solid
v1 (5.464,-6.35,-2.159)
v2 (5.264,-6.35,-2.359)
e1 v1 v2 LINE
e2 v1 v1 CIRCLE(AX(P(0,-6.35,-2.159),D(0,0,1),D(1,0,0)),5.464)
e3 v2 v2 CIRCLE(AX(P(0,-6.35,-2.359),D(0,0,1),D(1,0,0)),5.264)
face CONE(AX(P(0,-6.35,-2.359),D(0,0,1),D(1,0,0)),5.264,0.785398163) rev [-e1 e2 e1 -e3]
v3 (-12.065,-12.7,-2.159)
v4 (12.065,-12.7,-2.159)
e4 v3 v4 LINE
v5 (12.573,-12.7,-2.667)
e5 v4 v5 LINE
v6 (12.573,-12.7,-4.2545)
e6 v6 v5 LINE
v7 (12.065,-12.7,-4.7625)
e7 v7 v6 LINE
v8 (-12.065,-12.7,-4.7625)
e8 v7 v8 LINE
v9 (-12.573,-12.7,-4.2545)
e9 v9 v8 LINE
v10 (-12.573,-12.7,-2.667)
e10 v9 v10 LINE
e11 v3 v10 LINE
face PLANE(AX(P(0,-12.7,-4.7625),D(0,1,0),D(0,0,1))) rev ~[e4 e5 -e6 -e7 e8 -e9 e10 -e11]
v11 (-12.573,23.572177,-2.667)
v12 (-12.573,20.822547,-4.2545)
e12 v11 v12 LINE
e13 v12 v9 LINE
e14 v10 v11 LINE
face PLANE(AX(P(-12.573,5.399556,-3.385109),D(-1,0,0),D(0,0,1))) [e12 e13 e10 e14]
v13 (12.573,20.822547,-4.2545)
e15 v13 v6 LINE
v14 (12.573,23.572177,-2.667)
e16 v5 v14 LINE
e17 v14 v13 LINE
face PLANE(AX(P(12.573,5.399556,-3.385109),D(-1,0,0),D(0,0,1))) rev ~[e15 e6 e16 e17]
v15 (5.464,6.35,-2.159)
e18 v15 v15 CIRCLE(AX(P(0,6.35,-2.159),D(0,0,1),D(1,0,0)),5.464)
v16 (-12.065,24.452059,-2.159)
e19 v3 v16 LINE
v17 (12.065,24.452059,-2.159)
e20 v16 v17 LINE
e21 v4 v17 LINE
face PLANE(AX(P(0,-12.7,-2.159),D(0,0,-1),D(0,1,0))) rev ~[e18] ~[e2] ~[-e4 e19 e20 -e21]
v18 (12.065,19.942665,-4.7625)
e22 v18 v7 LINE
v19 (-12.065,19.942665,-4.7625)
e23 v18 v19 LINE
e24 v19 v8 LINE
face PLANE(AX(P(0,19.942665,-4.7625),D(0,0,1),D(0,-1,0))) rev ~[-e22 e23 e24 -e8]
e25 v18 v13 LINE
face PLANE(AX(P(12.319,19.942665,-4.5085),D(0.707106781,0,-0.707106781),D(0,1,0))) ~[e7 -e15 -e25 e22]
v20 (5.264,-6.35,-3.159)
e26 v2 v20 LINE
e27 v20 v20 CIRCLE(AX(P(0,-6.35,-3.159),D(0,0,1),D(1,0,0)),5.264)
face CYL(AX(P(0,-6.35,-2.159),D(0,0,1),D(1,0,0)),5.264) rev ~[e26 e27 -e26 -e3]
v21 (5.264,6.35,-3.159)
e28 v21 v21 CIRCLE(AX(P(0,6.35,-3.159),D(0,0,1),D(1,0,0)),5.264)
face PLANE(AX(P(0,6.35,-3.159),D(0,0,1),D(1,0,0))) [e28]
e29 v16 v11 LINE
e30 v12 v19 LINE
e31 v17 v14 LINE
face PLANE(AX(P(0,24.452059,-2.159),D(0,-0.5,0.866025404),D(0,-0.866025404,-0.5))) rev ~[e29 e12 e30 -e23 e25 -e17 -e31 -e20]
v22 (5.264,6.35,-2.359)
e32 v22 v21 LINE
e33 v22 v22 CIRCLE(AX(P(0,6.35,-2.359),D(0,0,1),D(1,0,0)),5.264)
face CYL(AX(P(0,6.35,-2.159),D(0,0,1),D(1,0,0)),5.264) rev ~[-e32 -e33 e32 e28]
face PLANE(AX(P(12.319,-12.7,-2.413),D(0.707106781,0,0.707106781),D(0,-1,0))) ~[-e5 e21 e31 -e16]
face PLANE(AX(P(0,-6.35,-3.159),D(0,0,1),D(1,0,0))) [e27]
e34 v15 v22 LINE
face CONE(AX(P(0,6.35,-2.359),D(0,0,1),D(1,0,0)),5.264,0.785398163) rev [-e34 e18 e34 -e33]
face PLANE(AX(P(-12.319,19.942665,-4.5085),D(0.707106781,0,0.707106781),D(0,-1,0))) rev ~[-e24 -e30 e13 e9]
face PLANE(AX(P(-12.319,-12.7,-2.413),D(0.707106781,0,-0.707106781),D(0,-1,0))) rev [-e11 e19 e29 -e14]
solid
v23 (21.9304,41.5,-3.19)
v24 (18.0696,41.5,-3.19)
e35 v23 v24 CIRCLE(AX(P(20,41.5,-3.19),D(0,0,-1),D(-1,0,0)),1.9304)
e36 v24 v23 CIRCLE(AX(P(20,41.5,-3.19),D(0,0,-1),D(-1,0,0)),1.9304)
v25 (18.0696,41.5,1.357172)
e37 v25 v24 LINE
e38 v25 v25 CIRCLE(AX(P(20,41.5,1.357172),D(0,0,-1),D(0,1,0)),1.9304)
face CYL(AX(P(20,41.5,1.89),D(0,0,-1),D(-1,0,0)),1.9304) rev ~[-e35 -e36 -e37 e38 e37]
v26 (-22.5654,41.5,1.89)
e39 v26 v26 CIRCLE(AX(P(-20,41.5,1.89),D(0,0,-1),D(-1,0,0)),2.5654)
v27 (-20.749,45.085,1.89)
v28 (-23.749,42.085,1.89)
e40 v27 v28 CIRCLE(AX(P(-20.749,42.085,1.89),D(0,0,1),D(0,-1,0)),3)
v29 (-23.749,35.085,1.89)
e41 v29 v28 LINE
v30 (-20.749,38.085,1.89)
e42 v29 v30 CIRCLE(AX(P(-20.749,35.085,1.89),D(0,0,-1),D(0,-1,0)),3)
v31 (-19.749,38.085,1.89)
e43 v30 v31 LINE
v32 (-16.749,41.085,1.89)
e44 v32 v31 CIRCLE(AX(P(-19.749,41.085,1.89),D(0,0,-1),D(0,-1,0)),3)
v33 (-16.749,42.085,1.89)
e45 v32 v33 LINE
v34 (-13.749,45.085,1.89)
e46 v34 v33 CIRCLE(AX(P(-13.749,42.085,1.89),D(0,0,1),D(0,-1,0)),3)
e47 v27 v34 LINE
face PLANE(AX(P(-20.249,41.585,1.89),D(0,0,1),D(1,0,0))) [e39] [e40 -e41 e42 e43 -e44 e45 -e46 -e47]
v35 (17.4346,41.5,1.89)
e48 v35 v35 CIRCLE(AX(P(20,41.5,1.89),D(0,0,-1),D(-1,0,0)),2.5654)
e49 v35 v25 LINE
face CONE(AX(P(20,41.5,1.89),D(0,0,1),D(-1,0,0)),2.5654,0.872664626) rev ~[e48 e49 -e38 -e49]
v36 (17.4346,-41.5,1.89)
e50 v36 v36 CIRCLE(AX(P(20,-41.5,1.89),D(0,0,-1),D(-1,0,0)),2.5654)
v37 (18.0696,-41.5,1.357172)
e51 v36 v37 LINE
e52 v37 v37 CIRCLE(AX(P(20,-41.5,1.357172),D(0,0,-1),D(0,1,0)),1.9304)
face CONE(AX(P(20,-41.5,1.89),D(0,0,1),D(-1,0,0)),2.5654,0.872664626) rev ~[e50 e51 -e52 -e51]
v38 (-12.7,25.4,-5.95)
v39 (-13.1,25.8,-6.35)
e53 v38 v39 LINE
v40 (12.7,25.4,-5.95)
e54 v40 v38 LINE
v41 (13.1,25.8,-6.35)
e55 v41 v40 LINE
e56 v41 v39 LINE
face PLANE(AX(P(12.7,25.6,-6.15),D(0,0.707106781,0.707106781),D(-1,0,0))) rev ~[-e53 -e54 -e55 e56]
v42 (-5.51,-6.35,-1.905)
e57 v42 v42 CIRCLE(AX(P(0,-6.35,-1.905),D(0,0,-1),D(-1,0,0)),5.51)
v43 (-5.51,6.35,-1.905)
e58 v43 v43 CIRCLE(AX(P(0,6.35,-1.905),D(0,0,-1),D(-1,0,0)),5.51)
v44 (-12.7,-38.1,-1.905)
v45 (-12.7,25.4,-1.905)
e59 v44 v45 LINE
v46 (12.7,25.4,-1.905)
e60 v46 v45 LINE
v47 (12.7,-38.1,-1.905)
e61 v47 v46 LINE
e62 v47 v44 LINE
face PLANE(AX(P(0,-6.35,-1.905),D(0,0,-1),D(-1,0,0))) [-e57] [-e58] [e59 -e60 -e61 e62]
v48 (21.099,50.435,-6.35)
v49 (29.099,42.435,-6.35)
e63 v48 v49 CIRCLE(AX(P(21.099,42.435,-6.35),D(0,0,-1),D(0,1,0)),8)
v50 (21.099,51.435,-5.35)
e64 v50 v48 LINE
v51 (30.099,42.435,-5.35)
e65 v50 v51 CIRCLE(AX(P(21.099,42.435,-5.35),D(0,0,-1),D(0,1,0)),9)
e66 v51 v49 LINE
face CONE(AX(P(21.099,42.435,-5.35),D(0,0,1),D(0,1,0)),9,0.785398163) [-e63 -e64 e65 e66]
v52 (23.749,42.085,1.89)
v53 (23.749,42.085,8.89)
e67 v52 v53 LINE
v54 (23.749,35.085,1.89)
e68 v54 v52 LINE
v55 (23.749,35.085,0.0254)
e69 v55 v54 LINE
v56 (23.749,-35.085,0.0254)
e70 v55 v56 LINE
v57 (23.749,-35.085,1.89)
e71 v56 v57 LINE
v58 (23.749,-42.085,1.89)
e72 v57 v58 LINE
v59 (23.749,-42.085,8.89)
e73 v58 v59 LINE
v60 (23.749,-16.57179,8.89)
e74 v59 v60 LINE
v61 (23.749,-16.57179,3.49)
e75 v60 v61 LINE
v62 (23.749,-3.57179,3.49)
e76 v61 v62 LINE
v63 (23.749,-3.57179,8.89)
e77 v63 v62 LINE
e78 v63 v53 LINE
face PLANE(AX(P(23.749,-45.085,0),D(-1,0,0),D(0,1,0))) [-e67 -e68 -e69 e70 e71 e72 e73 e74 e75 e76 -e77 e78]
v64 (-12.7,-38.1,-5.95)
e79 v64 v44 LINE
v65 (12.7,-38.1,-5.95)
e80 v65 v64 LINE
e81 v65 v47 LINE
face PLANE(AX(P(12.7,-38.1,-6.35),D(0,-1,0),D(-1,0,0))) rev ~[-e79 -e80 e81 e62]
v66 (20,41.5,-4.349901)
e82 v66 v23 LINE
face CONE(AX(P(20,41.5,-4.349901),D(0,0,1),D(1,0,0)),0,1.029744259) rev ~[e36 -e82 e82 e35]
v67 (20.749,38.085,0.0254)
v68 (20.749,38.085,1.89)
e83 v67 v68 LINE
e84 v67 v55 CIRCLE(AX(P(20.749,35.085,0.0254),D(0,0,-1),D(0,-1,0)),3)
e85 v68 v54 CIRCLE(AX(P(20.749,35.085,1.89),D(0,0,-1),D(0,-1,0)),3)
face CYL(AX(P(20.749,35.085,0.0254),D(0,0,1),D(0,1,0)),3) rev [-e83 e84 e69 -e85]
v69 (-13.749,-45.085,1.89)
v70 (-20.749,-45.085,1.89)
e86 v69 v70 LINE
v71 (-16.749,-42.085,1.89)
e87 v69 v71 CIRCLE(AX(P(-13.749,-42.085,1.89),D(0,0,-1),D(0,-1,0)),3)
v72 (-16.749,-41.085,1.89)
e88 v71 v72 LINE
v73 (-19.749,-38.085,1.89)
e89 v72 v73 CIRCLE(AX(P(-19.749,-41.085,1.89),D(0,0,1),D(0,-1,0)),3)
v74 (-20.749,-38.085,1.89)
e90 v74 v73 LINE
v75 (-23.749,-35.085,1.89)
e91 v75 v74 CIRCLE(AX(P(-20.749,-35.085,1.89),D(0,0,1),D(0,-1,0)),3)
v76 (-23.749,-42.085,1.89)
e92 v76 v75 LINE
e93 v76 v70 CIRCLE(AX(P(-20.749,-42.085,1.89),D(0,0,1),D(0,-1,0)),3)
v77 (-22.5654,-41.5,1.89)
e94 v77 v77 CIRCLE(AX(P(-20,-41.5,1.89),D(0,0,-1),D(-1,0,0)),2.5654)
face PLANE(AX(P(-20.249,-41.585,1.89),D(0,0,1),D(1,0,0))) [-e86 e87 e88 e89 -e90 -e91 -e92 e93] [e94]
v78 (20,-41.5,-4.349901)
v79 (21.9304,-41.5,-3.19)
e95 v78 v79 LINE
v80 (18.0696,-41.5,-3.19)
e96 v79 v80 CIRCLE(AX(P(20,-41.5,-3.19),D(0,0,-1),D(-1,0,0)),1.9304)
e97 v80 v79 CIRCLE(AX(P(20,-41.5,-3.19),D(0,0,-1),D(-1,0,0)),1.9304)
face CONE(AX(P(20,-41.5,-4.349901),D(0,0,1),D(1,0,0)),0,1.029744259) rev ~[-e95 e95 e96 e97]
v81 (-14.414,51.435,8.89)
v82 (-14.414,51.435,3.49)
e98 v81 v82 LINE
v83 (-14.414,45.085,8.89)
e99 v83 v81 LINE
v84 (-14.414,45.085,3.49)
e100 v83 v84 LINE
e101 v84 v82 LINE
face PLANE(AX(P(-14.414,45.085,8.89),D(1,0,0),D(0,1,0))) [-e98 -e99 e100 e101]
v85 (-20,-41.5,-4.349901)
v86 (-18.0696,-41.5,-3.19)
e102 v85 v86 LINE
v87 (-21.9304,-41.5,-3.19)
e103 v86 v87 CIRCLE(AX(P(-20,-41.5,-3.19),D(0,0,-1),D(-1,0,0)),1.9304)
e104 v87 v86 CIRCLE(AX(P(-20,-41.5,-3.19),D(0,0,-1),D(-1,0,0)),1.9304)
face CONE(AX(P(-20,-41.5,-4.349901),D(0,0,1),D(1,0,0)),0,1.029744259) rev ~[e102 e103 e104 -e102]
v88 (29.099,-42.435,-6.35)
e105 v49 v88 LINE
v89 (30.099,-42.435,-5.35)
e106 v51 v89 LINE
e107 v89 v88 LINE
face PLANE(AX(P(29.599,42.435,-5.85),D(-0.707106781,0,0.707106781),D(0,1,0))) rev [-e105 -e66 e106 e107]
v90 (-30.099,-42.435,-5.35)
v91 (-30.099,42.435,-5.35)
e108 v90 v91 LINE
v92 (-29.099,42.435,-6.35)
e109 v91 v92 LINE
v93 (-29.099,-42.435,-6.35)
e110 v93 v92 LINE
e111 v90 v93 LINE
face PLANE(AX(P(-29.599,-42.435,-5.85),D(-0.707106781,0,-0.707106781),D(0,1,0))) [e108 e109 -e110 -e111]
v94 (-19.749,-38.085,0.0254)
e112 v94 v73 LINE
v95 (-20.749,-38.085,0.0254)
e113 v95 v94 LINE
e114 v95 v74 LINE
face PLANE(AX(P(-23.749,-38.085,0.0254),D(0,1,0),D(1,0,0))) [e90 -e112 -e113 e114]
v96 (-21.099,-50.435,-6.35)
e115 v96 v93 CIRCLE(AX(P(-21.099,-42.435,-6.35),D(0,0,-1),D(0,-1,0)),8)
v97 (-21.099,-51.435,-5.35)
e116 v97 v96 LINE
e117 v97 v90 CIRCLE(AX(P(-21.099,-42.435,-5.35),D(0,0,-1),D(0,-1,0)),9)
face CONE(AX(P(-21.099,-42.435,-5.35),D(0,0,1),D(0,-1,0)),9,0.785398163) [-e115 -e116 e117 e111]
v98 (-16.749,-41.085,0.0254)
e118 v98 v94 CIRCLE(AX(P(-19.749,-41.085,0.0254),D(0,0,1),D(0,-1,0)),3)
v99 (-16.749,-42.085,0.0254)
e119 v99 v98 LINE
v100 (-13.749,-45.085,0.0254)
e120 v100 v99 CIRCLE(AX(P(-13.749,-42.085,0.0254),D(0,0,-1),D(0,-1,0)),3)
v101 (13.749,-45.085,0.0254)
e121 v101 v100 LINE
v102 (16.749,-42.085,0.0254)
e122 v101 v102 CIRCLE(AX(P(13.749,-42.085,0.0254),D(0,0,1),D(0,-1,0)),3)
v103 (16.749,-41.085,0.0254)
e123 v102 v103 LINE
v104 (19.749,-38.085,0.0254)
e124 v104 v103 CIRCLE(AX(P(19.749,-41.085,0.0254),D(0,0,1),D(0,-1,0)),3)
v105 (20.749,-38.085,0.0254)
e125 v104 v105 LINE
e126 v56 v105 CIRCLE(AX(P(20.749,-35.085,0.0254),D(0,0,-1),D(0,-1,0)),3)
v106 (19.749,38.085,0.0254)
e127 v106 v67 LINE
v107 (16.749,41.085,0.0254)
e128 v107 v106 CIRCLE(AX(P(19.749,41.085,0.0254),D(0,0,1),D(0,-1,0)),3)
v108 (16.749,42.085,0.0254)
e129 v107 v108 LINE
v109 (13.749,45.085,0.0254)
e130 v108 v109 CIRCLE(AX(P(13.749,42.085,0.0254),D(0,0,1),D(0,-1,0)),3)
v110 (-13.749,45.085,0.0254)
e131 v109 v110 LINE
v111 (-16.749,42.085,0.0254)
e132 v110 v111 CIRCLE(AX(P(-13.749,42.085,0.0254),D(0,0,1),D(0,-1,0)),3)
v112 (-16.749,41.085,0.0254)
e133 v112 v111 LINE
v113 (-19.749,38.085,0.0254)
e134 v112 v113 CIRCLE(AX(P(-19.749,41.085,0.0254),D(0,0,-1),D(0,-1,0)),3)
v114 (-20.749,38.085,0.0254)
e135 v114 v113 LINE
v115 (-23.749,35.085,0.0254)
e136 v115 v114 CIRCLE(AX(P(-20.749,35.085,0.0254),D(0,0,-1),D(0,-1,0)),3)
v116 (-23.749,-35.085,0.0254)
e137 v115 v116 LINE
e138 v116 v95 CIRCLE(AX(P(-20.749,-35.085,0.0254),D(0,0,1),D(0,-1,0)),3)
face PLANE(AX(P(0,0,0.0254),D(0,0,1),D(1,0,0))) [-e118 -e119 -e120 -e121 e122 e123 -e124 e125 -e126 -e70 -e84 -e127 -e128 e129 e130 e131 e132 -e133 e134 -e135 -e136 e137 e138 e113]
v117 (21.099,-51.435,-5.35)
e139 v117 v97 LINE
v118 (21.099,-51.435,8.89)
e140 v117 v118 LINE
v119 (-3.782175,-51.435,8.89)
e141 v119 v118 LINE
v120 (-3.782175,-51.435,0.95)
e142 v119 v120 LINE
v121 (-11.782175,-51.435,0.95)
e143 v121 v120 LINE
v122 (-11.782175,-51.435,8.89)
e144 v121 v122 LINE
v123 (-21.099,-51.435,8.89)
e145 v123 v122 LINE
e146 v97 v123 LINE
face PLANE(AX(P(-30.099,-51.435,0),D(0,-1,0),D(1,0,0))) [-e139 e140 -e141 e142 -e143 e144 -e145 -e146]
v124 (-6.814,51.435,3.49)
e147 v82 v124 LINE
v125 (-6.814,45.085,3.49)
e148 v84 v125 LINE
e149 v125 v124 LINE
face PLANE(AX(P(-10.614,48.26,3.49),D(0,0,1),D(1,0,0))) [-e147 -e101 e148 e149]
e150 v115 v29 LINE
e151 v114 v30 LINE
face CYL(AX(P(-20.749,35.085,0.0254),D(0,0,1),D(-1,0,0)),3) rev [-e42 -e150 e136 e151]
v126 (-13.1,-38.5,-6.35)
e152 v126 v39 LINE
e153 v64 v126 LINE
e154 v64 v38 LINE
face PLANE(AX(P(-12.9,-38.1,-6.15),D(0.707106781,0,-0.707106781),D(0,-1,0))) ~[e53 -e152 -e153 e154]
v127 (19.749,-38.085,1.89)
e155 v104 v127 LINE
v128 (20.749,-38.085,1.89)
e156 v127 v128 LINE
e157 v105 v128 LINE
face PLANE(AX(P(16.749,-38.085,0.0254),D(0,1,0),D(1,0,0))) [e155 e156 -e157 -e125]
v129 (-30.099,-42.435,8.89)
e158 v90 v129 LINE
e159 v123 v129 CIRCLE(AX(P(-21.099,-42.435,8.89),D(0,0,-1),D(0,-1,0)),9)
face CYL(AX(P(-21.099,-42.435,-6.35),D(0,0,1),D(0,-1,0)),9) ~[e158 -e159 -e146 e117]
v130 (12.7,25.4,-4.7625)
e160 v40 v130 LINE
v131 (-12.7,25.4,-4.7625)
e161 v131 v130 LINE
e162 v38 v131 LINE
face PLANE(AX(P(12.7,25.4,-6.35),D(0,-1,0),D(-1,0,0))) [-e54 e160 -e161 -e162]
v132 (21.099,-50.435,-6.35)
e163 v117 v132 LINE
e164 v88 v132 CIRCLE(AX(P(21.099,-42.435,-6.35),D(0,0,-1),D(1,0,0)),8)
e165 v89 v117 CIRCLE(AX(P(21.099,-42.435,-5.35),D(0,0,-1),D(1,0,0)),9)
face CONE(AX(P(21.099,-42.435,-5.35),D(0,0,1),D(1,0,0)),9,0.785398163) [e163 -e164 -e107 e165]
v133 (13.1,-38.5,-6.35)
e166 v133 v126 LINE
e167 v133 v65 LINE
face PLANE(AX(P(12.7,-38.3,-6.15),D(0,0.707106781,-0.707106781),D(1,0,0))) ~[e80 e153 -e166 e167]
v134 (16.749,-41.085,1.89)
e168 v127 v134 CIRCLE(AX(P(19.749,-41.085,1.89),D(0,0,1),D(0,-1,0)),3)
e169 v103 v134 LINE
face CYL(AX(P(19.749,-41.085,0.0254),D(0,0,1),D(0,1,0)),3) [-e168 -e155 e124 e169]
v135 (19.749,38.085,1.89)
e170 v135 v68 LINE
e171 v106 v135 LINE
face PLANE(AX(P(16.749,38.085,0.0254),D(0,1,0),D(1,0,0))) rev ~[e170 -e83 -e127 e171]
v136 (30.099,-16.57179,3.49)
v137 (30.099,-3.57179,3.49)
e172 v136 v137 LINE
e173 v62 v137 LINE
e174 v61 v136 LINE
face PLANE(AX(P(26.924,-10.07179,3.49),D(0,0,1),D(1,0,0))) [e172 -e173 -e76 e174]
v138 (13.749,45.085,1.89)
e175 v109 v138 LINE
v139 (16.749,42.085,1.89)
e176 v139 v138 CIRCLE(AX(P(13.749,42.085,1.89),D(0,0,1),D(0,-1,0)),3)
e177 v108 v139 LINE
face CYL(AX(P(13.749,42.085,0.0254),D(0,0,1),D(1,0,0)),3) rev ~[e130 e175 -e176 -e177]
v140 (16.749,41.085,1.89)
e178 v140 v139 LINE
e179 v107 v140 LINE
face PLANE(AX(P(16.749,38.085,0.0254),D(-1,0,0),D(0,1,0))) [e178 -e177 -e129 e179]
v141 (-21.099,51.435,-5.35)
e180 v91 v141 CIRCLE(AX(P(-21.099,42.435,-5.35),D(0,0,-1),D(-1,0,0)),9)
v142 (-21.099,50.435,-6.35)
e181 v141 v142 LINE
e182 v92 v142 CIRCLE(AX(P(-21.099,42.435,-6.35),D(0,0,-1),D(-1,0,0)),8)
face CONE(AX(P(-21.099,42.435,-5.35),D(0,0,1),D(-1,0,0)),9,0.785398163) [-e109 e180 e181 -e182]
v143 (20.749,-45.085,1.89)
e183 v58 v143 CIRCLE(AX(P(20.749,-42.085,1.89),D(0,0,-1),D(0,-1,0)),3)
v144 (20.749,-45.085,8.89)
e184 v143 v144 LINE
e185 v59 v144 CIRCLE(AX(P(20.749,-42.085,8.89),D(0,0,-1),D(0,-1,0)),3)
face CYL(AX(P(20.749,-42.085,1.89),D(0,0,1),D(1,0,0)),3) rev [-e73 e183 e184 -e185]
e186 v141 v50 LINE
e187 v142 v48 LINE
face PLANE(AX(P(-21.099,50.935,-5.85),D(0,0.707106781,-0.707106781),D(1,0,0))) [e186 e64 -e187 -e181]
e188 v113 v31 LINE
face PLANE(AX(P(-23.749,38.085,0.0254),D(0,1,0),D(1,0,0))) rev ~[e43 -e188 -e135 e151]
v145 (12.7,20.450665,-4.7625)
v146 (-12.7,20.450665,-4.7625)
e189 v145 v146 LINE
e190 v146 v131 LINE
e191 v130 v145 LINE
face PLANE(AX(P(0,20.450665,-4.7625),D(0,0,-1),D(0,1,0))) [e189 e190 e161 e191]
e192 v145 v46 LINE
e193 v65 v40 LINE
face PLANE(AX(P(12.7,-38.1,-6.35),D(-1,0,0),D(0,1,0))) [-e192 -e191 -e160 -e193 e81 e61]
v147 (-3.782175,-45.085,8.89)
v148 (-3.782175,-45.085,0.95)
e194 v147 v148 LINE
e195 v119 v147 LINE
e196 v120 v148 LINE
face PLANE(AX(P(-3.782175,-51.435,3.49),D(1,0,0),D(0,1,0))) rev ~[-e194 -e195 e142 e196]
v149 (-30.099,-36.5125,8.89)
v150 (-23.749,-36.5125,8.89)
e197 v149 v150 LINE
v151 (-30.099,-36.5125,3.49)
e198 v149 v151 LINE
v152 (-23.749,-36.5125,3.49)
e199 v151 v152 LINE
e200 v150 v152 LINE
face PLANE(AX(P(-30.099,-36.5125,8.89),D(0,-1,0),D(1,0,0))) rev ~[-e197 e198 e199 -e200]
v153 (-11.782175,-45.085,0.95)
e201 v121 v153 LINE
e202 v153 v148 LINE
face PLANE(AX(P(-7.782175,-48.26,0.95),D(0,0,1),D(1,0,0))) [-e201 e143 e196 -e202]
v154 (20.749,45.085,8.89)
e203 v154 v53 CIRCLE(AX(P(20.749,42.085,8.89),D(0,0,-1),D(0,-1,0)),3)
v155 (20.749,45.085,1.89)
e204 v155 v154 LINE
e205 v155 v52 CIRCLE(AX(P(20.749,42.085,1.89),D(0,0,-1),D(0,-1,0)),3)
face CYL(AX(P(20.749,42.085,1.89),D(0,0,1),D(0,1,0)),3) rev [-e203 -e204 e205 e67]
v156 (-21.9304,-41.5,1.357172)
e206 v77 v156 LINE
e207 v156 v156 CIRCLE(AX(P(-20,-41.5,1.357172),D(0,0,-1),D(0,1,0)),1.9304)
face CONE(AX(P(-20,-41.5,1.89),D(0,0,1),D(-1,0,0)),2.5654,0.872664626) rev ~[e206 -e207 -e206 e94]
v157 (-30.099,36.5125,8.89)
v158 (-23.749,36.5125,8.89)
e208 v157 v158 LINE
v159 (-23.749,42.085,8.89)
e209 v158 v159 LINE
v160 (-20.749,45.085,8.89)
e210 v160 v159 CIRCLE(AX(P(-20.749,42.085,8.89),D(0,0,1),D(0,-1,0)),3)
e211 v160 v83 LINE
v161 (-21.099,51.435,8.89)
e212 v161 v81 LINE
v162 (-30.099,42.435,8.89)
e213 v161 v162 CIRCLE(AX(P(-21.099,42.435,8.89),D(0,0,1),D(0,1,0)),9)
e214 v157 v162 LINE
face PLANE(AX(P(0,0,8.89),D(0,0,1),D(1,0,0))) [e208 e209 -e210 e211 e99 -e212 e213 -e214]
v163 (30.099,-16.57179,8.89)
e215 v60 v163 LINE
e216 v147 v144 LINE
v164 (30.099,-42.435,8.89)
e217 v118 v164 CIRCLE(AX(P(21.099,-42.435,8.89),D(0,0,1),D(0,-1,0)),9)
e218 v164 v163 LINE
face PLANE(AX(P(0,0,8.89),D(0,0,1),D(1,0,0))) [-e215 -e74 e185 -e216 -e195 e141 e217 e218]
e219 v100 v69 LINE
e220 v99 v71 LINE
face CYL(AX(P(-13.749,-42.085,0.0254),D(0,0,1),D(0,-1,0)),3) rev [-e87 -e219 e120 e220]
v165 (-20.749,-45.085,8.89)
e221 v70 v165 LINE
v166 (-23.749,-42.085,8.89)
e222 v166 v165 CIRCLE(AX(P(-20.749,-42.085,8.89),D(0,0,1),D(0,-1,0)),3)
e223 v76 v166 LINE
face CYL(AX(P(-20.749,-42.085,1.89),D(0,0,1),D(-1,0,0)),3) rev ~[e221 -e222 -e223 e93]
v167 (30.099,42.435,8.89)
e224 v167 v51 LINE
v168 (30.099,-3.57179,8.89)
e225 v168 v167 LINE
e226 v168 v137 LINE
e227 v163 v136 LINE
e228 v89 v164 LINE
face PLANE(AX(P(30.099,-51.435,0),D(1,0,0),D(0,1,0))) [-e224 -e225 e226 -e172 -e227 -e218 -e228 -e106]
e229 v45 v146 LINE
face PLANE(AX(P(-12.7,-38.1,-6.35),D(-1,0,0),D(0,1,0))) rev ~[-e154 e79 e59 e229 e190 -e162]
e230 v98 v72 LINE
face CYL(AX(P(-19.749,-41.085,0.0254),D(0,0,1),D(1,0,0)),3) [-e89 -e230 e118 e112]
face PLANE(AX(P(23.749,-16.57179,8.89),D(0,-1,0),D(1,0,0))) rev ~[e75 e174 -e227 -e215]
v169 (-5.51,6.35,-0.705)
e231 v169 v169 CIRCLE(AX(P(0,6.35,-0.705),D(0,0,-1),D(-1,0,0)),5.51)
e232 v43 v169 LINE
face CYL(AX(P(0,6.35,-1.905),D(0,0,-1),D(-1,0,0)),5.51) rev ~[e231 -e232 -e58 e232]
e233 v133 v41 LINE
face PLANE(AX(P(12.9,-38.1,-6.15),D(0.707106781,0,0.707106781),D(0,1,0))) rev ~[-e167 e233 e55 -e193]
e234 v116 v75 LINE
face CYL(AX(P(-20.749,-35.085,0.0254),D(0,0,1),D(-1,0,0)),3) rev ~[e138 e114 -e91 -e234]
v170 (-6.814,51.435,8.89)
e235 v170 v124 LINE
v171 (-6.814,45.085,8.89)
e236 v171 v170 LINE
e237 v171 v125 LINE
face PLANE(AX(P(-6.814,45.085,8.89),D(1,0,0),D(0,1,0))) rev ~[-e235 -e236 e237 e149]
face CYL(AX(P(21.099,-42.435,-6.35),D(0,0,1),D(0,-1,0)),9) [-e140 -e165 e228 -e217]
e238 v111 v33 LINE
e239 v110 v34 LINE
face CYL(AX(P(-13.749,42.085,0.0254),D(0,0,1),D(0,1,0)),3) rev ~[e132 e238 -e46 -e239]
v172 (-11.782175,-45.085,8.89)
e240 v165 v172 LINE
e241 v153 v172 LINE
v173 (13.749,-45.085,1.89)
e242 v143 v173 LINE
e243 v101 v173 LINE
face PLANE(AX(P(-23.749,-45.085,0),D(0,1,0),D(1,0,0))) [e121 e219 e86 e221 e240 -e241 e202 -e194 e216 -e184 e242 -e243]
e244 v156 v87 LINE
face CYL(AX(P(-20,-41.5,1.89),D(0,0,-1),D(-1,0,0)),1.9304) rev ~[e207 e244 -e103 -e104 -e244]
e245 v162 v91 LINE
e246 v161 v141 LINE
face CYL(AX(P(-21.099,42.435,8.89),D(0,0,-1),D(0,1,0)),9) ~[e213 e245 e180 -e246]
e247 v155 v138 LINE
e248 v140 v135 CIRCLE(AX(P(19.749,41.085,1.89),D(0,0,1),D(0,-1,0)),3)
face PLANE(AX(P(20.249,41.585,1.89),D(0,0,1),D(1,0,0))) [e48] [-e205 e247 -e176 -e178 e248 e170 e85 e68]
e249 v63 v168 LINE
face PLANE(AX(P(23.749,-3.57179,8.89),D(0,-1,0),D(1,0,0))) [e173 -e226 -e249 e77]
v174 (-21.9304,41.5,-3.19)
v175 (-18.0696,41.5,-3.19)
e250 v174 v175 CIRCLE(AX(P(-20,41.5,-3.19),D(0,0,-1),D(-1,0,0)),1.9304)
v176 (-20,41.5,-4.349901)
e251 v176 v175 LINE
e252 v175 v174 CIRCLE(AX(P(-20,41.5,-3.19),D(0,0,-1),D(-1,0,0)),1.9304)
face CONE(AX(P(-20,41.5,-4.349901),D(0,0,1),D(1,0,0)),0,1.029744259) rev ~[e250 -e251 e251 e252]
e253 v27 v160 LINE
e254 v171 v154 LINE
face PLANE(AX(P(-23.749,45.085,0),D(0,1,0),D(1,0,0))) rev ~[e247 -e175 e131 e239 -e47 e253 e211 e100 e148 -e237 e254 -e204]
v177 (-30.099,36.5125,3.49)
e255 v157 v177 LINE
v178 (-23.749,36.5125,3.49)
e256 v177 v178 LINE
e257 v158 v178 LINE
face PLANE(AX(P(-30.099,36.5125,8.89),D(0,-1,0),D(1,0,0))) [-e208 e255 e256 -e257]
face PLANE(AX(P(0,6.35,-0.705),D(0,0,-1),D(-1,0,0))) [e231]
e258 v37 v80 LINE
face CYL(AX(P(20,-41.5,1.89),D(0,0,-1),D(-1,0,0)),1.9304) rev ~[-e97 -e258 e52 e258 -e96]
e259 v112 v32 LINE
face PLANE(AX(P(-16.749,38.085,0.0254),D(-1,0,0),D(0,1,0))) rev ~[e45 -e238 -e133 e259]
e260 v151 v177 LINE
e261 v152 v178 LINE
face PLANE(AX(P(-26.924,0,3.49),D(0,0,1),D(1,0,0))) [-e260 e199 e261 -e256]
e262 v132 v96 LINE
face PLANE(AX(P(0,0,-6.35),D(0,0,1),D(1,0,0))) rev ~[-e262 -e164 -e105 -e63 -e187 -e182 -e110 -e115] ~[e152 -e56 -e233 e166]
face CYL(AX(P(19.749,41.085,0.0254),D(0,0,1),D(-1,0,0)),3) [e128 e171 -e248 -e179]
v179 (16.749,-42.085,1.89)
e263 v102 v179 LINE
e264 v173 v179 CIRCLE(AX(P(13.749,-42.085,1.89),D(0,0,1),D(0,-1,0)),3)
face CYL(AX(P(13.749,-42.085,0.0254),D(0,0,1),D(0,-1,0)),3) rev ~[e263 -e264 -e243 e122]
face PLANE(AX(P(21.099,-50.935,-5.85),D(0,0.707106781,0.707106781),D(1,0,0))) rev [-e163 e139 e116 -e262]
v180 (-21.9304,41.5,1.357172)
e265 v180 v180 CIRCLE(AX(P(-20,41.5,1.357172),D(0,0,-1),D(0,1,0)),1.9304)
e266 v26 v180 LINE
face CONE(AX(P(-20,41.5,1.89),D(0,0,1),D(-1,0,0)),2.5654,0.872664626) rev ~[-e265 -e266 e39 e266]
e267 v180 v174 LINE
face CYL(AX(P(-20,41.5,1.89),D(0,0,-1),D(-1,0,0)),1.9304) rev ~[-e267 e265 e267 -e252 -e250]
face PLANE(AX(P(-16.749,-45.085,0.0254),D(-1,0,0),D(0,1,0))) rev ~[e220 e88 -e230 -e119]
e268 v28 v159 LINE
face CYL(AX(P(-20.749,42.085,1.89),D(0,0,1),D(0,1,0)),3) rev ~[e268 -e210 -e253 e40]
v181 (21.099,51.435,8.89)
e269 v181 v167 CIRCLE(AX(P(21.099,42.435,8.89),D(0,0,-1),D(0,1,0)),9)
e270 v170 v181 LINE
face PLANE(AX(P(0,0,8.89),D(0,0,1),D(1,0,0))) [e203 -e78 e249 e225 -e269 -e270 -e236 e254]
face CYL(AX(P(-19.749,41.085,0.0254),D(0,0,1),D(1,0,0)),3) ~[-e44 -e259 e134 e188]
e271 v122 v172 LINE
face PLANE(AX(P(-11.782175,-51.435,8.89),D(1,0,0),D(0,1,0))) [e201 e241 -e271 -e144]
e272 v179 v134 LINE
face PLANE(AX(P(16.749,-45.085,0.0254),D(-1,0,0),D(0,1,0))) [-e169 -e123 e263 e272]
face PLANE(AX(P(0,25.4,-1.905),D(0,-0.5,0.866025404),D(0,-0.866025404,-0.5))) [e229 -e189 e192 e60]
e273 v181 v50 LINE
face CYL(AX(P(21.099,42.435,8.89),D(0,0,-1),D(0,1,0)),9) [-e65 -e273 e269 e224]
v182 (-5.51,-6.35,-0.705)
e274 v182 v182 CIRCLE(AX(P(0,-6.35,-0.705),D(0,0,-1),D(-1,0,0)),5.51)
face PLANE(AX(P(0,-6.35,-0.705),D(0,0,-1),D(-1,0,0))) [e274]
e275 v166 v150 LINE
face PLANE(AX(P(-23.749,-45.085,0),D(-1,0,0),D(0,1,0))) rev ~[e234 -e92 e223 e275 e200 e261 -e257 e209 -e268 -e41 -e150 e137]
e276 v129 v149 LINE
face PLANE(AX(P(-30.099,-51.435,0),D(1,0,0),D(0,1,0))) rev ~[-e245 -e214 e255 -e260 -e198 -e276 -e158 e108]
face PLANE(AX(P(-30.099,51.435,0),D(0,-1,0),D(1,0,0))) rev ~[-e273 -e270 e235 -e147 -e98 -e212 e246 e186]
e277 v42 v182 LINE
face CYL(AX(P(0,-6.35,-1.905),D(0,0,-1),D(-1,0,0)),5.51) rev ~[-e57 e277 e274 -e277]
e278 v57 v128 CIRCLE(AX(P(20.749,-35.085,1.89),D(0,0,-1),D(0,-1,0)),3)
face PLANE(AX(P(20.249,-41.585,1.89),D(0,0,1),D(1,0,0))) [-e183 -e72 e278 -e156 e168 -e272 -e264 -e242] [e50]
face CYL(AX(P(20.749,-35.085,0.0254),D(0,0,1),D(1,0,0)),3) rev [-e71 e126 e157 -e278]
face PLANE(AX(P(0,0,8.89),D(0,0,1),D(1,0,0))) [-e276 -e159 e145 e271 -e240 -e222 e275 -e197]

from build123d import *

# Parameters (mm, degrees)
SKETCH1_W                             = 60.198
SKETCH1_H                             = 102.87
BOSS_EXTRUDE1_DEPTH                   = 0.0254
BOSS_EXTRUDE1_DEPTH_BACK              = 6.35
SKETCH1_3_W                           = 60.198
SKETCH1_3_H                           = 102.87
SKETCH1_3_W_2                         = 47.498
SKETCH1_3_H_2                         = 90.17
BOSS_EXTRUDE2_DEPTH                   = 8.89
SKETCH2_W                             = 7
SKETCH2_H                             = 7
BOSS_EXTRUDE3_DEPTH                   = 1.8646
F_24_0_152_DIAMETER_HOLE1_D           = 3.8608
F_24_0_152_DIAMETER_HOLE1_DEPTH       = 5.08
F_24_0_152_DIAMETER_HOLE1_CSINK_D     = 5.1308
F_24_0_152_DIAMETER_HOLE1_CSINK_ANGLE = 100
F_24_0_152_DIAMETER_HOLE1_TIP         = 1.159901339
SKETCH6_W                             = 6.35
SKETCH6_H                             = 73.025
SKETCH6_W_2                           = 8.000000002
SKETCH6_H_2                           = 6.35
SKETCH6_W_3                           = 7.60000004
SKETCH6_H_3                           = 12.999999908
CUT_EXTRUDE1_DEPTH                    = 5.4
FILLET1_R                             = 3
FILLET2_R                             = 9
CHAMFER1_SIZE                         = 1
SKETCH9_W                             = 25.4
SKETCH9_H                             = 63.5
CUT_EXTRUDE2_DEPTH                    = 4.445
BOSS_EXTRUDE4_REACH                   = 32.099
BOSS_EXTRUDE4_DIRECTION_2_REACH       = 32.099
BOSS_EXTRUDE5_DEPTH                   = 12.573
BOSS_EXTRUDE5_DEPTH_BACK              = 12.573
CUT_EXTRUDE3_START                    = -1.254
SKETCH11_R                            = 5.01
CUT_EXTRUDE3_DEPTH                    = 2.454
SKETCH12_R                            = 5.51
CUT_EXTRUDE4_DEPTH                    = 1.2
SKETCH13_W                            = 8.000000002
SKETCH13_H                            = 6.35
CUT_EXTRUDE5_DEPTH                    = 2.54
CHAMFER2_SIZE                         = 0.399999962
CHAMFER3_SIZE                         = 0.508
SKETCH14_R                            = 5.264
CUT_EXTRUDE6_DEPTH                    = 1
CHAMFER4_SIZE                         = 0.2


with BuildPart() as part:
    # Sketch1 → Boss-Extrude1 (new body, two sides)
    with BuildSketch(Plane.XY) as boss_extrude1_sk:
        Rectangle(SKETCH1_W, SKETCH1_H)
    extrude(amount=BOSS_EXTRUDE1_DEPTH)
    extrude(boss_extrude1_sk.sketch, amount=-BOSS_EXTRUDE1_DEPTH_BACK)

    # Sketch1_3 → Boss-Extrude2 (add)
    with BuildSketch(Plane.XY):
        Rectangle(SKETCH1_3_W, SKETCH1_3_H)
        Rectangle(SKETCH1_3_W_2, SKETCH1_3_H_2, mode=Mode.SUBTRACT)
    extrude(amount=BOSS_EXTRUDE2_DEPTH)

    # Sketch2 → Boss-Extrude3 (add)
    with BuildSketch(Plane.XY.offset(0.0254)):
        with Locations((20.249, 41.585)):
            Rectangle(SKETCH2_W, SKETCH2_H)
        with Locations((20.249, -41.585)):
            Rectangle(SKETCH2_W, SKETCH2_H)
        with Locations((-20.249, -41.585)):
            Rectangle(SKETCH2_W, SKETCH2_H)
        with Locations((-20.249, 41.585)):
            Rectangle(SKETCH2_W, SKETCH2_H)
    extrude(amount=BOSS_EXTRUDE3_DEPTH)

    # 24 _0.152_ Diameter Hole1
    with Locations(Plane(origin=(-20, 41.5, 1.89000003), x_dir=(1, 0, 0), z_dir=(0, 0, 1))):
        with Locations((0, 0), (40, 0), (40, -83), (0, -83)):
            CounterSinkHole(F_24_0_152_DIAMETER_HOLE1_D / 2, F_24_0_152_DIAMETER_HOLE1_CSINK_D / 2, depth=F_24_0_152_DIAMETER_HOLE1_DEPTH, counter_sink_angle=F_24_0_152_DIAMETER_HOLE1_CSINK_ANGLE)
            with Locations((0, 0, -(F_24_0_152_DIAMETER_HOLE1_DEPTH + F_24_0_152_DIAMETER_HOLE1_TIP / 2))):  # 118° drill point
                Cone(0, F_24_0_152_DIAMETER_HOLE1_D / 2, F_24_0_152_DIAMETER_HOLE1_TIP, mode=Mode.SUBTRACT)

    # Sketch6 → Cut-Extrude1 (cut)
    with BuildSketch(Plane.XY.offset(8.89)):
        with Locations((-26.924, 0)):
            Rectangle(SKETCH6_W, SKETCH6_H)
        with Locations((-7.782174936, -48.26)):
            Rectangle(SKETCH6_W_2, SKETCH6_H_2)
        with Locations((-10.614000108, 48.26)):
            Rectangle(SKETCH6_W_3, SKETCH6_H_2)
        with Locations((26.924, -10.071789928)):
            Rectangle(SKETCH6_W, SKETCH6_H_3)
    extrude(amount=-CUT_EXTRUDE1_DEPTH, mode=Mode.SUBTRACT)

    # Fillet1
    fillet1_edges = [part.edges().sort_by_distance(p)[0] for p in [
        (-16.749, 45.085, 0.9577),
        (-23.749, 38.085, 0.9577),
        (-16.749, 38.085, 0.9577),
        (-23.749, -45.085, 5.39),
        (23.749, -45.085, 5.39),
        (23.749, 45.085, 5.39),
        (-23.749, 45.085, 5.39),
        (23.749, 38.085, 0.9577),
        (16.749, 38.085, 0.9577),
        (16.749, 45.085, 0.9577),
        (23.749, -38.085, 0.9577),
        (16.749, -45.085, 0.9577),
        (16.749, -38.085, 0.9577),
        (-23.749, -38.085, 0.9577),
        (-16.749, -38.085, 0.9577),
        (-16.749, -45.085, 0.9577),
    ]]
    fillet(fillet1_edges, radius=FILLET1_R)

    # Fillet2
    fillet2_edges = [part.edges().sort_by_distance(p)[0] for p in [
        (30.099, 51.435, 1.27),
        (-30.099, 51.435, 1.27),
        (-30.099, -51.435, 1.27),
        (30.099, -51.435, 1.27),
    ]]
    fillet(fillet2_edges, radius=FILLET2_R)

    # Chamfer1
    chamfer1_edges = [part.edges().sort_by_distance(p)[0] for p in [
        (0, 51.435, -6.35),
        (30.099, 0, -6.35),
        (0, -51.435, -6.35),
        (-30.099, 0, -6.35),
        (-27.462961031, 48.798961031, -6.35),
        (-27.462961031, -48.798961031, -6.35),
        (27.462961031, -48.798961031, -6.35),
        (27.462961031, 48.798961031, -6.35),
    ]]
    chamfer(chamfer1_edges, length=CHAMFER1_SIZE)

    # Sketch9 → Cut-Extrude2 (cut)
    with BuildSketch(Plane(origin=(0, 0, -6.35), x_dir=(-1, 0, 0), z_dir=(0, 0, -1))):
        with Locations((0, -6.35)):
            Rectangle(SKETCH9_W, SKETCH9_H)
    extrude(amount=-CUT_EXTRUDE2_DEPTH, mode=Mode.SUBTRACT)

    # Sketch10 → Boss-Extrude4 (add, up to next)
    with BuildSketch(Plane(origin=(0, 0, 0), x_dir=(0, 0, -1), z_dir=(1, 0, 0)), mode=Mode.PRIVATE) as boss_extrude4_sk1:
        Polygon((4.7625, 20.450664817), (4.7625, 25.4), (1.905, 25.4), align=None)
    boss_extrude4_tool1 = extrude(boss_extrude4_sk1.sketch, amount=BOSS_EXTRUDE4_REACH, mode=Mode.PRIVATE) - part.part
    add(boss_extrude4_tool1.solids().sort_by_distance((0, 23.750222, -3.81))[0])

    # Sketch10 → Boss-Extrude4 direction 2 (add, up to next)
    with BuildSketch(Plane(origin=(0, 0, 0), x_dir=(0, 0, -1), z_dir=(1, 0, 0)), mode=Mode.PRIVATE) as boss_extrude4_direction_2_sk1:
        Polygon((4.7625, 20.450664817), (4.7625, 25.4), (1.905, 25.4), align=None)
    boss_extrude4_direction_2_tool1 = extrude(boss_extrude4_direction_2_sk1.sketch, amount=-BOSS_EXTRUDE4_DIRECTION_2_REACH, mode=Mode.PRIVATE) - part.part
    add(boss_extrude4_direction_2_tool1.solids().sort_by_distance((0, 23.750222, -3.81))[0])


with BuildPart() as body_2:
    # Sketch10_3 → Boss-Extrude5 (new body, two sides)
    with BuildSketch(Plane(origin=(0, 0, 0), x_dir=(0, 0, -1), z_dir=(1, 0, 0))) as boss_extrude5_sk:
        Polygon((2.159, 24.452059095), (4.7625, 19.942664817), (4.7625, -12.7), (2.159, -12.7), align=None)
    extrude(amount=BOSS_EXTRUDE5_DEPTH)
    extrude(boss_extrude5_sk.sketch, amount=-BOSS_EXTRUDE5_DEPTH_BACK)


with BuildPart() as cut_extrude3_tool:
    # Sketch11 → Cut-Extrude3 (new body)
    with BuildSketch(Plane.XY.offset(-1.905).offset(CUT_EXTRUDE3_START)):
        with Locations((0, -6.35)):
            Circle(SKETCH11_R)
        with Locations((0, 6.35)):
            Circle(SKETCH11_R)
    extrude(amount=CUT_EXTRUDE3_DEPTH)


with BuildPart() as part_1:
    add(part.part)

    # Cut-Extrude3: cut by cut_extrude3_tool
    add(cut_extrude3_tool.part, mode=Mode.SUBTRACT)

    # Sketch12 → Cut-Extrude4 (cut)
    with BuildSketch(Plane(origin=(0, 0, -1.905), x_dir=(-1, 0, 0), z_dir=(0, 0, -1))):
        with Locations((0, 6.35)):
            Circle(SKETCH12_R)
        with Locations((0, -6.35)):
            Circle(SKETCH12_R)
    extrude(amount=-CUT_EXTRUDE4_DEPTH, mode=Mode.SUBTRACT)

    # Sketch13 → Cut-Extrude5 (cut)
    with BuildSketch(Plane.XY.offset(3.490000132)):
        with Locations((-7.782174936, -48.26)):
            Rectangle(SKETCH13_W, SKETCH13_H)
    extrude(amount=-CUT_EXTRUDE5_DEPTH, mode=Mode.SUBTRACT)

    # Chamfer2
    chamfer2_edges = [part_1.edges().sort_by_distance(p)[0] for p in [
        (-12.7, -6.35, -6.35),
        (0, 25.4, -6.35),
        (12.7, -6.35, -6.35),
        (0, -38.1, -6.35),
    ]]
    chamfer(chamfer2_edges, length=CHAMFER2_SIZE)


with BuildPart() as body_2_1:
    add(body_2.part)

    # Cut-Extrude3: cut by cut_extrude3_tool
    add(cut_extrude3_tool.part, mode=Mode.SUBTRACT)

    # Chamfer3
    chamfer3_edges = [body_2_1.edges().sort_by_distance(p)[0] for p in [
        (12.573, 3.621332409, -4.7625),
        (12.573, 5.876029547, -2.159),
        (-12.573, 3.621332409, -4.7625),
        (-12.573, 5.876029547, -2.159),
    ]]
    chamfer(chamfer3_edges, length=CHAMFER3_SIZE)

    # Sketch14 → Cut-Extrude6 (cut)
    with BuildSketch(Plane.XY.offset(-2.159)):
        with Locations((0, 6.35)):
            Circle(SKETCH14_R)
        with Locations((0, -6.35)):
            Circle(SKETCH14_R)
    extrude(amount=-CUT_EXTRUDE6_DEPTH, mode=Mode.SUBTRACT)

    # Chamfer4
    chamfer4_edges = [body_2_1.edges().sort_by_distance(p)[0] for p in [
        (-5.264, 6.35, -2.159),
        (-5.264, -6.35, -2.159),
    ]]
    chamfer(chamfer4_edges, length=CHAMFER4_SIZE)


solid = Compound([part_1.part, body_2_1.part])
